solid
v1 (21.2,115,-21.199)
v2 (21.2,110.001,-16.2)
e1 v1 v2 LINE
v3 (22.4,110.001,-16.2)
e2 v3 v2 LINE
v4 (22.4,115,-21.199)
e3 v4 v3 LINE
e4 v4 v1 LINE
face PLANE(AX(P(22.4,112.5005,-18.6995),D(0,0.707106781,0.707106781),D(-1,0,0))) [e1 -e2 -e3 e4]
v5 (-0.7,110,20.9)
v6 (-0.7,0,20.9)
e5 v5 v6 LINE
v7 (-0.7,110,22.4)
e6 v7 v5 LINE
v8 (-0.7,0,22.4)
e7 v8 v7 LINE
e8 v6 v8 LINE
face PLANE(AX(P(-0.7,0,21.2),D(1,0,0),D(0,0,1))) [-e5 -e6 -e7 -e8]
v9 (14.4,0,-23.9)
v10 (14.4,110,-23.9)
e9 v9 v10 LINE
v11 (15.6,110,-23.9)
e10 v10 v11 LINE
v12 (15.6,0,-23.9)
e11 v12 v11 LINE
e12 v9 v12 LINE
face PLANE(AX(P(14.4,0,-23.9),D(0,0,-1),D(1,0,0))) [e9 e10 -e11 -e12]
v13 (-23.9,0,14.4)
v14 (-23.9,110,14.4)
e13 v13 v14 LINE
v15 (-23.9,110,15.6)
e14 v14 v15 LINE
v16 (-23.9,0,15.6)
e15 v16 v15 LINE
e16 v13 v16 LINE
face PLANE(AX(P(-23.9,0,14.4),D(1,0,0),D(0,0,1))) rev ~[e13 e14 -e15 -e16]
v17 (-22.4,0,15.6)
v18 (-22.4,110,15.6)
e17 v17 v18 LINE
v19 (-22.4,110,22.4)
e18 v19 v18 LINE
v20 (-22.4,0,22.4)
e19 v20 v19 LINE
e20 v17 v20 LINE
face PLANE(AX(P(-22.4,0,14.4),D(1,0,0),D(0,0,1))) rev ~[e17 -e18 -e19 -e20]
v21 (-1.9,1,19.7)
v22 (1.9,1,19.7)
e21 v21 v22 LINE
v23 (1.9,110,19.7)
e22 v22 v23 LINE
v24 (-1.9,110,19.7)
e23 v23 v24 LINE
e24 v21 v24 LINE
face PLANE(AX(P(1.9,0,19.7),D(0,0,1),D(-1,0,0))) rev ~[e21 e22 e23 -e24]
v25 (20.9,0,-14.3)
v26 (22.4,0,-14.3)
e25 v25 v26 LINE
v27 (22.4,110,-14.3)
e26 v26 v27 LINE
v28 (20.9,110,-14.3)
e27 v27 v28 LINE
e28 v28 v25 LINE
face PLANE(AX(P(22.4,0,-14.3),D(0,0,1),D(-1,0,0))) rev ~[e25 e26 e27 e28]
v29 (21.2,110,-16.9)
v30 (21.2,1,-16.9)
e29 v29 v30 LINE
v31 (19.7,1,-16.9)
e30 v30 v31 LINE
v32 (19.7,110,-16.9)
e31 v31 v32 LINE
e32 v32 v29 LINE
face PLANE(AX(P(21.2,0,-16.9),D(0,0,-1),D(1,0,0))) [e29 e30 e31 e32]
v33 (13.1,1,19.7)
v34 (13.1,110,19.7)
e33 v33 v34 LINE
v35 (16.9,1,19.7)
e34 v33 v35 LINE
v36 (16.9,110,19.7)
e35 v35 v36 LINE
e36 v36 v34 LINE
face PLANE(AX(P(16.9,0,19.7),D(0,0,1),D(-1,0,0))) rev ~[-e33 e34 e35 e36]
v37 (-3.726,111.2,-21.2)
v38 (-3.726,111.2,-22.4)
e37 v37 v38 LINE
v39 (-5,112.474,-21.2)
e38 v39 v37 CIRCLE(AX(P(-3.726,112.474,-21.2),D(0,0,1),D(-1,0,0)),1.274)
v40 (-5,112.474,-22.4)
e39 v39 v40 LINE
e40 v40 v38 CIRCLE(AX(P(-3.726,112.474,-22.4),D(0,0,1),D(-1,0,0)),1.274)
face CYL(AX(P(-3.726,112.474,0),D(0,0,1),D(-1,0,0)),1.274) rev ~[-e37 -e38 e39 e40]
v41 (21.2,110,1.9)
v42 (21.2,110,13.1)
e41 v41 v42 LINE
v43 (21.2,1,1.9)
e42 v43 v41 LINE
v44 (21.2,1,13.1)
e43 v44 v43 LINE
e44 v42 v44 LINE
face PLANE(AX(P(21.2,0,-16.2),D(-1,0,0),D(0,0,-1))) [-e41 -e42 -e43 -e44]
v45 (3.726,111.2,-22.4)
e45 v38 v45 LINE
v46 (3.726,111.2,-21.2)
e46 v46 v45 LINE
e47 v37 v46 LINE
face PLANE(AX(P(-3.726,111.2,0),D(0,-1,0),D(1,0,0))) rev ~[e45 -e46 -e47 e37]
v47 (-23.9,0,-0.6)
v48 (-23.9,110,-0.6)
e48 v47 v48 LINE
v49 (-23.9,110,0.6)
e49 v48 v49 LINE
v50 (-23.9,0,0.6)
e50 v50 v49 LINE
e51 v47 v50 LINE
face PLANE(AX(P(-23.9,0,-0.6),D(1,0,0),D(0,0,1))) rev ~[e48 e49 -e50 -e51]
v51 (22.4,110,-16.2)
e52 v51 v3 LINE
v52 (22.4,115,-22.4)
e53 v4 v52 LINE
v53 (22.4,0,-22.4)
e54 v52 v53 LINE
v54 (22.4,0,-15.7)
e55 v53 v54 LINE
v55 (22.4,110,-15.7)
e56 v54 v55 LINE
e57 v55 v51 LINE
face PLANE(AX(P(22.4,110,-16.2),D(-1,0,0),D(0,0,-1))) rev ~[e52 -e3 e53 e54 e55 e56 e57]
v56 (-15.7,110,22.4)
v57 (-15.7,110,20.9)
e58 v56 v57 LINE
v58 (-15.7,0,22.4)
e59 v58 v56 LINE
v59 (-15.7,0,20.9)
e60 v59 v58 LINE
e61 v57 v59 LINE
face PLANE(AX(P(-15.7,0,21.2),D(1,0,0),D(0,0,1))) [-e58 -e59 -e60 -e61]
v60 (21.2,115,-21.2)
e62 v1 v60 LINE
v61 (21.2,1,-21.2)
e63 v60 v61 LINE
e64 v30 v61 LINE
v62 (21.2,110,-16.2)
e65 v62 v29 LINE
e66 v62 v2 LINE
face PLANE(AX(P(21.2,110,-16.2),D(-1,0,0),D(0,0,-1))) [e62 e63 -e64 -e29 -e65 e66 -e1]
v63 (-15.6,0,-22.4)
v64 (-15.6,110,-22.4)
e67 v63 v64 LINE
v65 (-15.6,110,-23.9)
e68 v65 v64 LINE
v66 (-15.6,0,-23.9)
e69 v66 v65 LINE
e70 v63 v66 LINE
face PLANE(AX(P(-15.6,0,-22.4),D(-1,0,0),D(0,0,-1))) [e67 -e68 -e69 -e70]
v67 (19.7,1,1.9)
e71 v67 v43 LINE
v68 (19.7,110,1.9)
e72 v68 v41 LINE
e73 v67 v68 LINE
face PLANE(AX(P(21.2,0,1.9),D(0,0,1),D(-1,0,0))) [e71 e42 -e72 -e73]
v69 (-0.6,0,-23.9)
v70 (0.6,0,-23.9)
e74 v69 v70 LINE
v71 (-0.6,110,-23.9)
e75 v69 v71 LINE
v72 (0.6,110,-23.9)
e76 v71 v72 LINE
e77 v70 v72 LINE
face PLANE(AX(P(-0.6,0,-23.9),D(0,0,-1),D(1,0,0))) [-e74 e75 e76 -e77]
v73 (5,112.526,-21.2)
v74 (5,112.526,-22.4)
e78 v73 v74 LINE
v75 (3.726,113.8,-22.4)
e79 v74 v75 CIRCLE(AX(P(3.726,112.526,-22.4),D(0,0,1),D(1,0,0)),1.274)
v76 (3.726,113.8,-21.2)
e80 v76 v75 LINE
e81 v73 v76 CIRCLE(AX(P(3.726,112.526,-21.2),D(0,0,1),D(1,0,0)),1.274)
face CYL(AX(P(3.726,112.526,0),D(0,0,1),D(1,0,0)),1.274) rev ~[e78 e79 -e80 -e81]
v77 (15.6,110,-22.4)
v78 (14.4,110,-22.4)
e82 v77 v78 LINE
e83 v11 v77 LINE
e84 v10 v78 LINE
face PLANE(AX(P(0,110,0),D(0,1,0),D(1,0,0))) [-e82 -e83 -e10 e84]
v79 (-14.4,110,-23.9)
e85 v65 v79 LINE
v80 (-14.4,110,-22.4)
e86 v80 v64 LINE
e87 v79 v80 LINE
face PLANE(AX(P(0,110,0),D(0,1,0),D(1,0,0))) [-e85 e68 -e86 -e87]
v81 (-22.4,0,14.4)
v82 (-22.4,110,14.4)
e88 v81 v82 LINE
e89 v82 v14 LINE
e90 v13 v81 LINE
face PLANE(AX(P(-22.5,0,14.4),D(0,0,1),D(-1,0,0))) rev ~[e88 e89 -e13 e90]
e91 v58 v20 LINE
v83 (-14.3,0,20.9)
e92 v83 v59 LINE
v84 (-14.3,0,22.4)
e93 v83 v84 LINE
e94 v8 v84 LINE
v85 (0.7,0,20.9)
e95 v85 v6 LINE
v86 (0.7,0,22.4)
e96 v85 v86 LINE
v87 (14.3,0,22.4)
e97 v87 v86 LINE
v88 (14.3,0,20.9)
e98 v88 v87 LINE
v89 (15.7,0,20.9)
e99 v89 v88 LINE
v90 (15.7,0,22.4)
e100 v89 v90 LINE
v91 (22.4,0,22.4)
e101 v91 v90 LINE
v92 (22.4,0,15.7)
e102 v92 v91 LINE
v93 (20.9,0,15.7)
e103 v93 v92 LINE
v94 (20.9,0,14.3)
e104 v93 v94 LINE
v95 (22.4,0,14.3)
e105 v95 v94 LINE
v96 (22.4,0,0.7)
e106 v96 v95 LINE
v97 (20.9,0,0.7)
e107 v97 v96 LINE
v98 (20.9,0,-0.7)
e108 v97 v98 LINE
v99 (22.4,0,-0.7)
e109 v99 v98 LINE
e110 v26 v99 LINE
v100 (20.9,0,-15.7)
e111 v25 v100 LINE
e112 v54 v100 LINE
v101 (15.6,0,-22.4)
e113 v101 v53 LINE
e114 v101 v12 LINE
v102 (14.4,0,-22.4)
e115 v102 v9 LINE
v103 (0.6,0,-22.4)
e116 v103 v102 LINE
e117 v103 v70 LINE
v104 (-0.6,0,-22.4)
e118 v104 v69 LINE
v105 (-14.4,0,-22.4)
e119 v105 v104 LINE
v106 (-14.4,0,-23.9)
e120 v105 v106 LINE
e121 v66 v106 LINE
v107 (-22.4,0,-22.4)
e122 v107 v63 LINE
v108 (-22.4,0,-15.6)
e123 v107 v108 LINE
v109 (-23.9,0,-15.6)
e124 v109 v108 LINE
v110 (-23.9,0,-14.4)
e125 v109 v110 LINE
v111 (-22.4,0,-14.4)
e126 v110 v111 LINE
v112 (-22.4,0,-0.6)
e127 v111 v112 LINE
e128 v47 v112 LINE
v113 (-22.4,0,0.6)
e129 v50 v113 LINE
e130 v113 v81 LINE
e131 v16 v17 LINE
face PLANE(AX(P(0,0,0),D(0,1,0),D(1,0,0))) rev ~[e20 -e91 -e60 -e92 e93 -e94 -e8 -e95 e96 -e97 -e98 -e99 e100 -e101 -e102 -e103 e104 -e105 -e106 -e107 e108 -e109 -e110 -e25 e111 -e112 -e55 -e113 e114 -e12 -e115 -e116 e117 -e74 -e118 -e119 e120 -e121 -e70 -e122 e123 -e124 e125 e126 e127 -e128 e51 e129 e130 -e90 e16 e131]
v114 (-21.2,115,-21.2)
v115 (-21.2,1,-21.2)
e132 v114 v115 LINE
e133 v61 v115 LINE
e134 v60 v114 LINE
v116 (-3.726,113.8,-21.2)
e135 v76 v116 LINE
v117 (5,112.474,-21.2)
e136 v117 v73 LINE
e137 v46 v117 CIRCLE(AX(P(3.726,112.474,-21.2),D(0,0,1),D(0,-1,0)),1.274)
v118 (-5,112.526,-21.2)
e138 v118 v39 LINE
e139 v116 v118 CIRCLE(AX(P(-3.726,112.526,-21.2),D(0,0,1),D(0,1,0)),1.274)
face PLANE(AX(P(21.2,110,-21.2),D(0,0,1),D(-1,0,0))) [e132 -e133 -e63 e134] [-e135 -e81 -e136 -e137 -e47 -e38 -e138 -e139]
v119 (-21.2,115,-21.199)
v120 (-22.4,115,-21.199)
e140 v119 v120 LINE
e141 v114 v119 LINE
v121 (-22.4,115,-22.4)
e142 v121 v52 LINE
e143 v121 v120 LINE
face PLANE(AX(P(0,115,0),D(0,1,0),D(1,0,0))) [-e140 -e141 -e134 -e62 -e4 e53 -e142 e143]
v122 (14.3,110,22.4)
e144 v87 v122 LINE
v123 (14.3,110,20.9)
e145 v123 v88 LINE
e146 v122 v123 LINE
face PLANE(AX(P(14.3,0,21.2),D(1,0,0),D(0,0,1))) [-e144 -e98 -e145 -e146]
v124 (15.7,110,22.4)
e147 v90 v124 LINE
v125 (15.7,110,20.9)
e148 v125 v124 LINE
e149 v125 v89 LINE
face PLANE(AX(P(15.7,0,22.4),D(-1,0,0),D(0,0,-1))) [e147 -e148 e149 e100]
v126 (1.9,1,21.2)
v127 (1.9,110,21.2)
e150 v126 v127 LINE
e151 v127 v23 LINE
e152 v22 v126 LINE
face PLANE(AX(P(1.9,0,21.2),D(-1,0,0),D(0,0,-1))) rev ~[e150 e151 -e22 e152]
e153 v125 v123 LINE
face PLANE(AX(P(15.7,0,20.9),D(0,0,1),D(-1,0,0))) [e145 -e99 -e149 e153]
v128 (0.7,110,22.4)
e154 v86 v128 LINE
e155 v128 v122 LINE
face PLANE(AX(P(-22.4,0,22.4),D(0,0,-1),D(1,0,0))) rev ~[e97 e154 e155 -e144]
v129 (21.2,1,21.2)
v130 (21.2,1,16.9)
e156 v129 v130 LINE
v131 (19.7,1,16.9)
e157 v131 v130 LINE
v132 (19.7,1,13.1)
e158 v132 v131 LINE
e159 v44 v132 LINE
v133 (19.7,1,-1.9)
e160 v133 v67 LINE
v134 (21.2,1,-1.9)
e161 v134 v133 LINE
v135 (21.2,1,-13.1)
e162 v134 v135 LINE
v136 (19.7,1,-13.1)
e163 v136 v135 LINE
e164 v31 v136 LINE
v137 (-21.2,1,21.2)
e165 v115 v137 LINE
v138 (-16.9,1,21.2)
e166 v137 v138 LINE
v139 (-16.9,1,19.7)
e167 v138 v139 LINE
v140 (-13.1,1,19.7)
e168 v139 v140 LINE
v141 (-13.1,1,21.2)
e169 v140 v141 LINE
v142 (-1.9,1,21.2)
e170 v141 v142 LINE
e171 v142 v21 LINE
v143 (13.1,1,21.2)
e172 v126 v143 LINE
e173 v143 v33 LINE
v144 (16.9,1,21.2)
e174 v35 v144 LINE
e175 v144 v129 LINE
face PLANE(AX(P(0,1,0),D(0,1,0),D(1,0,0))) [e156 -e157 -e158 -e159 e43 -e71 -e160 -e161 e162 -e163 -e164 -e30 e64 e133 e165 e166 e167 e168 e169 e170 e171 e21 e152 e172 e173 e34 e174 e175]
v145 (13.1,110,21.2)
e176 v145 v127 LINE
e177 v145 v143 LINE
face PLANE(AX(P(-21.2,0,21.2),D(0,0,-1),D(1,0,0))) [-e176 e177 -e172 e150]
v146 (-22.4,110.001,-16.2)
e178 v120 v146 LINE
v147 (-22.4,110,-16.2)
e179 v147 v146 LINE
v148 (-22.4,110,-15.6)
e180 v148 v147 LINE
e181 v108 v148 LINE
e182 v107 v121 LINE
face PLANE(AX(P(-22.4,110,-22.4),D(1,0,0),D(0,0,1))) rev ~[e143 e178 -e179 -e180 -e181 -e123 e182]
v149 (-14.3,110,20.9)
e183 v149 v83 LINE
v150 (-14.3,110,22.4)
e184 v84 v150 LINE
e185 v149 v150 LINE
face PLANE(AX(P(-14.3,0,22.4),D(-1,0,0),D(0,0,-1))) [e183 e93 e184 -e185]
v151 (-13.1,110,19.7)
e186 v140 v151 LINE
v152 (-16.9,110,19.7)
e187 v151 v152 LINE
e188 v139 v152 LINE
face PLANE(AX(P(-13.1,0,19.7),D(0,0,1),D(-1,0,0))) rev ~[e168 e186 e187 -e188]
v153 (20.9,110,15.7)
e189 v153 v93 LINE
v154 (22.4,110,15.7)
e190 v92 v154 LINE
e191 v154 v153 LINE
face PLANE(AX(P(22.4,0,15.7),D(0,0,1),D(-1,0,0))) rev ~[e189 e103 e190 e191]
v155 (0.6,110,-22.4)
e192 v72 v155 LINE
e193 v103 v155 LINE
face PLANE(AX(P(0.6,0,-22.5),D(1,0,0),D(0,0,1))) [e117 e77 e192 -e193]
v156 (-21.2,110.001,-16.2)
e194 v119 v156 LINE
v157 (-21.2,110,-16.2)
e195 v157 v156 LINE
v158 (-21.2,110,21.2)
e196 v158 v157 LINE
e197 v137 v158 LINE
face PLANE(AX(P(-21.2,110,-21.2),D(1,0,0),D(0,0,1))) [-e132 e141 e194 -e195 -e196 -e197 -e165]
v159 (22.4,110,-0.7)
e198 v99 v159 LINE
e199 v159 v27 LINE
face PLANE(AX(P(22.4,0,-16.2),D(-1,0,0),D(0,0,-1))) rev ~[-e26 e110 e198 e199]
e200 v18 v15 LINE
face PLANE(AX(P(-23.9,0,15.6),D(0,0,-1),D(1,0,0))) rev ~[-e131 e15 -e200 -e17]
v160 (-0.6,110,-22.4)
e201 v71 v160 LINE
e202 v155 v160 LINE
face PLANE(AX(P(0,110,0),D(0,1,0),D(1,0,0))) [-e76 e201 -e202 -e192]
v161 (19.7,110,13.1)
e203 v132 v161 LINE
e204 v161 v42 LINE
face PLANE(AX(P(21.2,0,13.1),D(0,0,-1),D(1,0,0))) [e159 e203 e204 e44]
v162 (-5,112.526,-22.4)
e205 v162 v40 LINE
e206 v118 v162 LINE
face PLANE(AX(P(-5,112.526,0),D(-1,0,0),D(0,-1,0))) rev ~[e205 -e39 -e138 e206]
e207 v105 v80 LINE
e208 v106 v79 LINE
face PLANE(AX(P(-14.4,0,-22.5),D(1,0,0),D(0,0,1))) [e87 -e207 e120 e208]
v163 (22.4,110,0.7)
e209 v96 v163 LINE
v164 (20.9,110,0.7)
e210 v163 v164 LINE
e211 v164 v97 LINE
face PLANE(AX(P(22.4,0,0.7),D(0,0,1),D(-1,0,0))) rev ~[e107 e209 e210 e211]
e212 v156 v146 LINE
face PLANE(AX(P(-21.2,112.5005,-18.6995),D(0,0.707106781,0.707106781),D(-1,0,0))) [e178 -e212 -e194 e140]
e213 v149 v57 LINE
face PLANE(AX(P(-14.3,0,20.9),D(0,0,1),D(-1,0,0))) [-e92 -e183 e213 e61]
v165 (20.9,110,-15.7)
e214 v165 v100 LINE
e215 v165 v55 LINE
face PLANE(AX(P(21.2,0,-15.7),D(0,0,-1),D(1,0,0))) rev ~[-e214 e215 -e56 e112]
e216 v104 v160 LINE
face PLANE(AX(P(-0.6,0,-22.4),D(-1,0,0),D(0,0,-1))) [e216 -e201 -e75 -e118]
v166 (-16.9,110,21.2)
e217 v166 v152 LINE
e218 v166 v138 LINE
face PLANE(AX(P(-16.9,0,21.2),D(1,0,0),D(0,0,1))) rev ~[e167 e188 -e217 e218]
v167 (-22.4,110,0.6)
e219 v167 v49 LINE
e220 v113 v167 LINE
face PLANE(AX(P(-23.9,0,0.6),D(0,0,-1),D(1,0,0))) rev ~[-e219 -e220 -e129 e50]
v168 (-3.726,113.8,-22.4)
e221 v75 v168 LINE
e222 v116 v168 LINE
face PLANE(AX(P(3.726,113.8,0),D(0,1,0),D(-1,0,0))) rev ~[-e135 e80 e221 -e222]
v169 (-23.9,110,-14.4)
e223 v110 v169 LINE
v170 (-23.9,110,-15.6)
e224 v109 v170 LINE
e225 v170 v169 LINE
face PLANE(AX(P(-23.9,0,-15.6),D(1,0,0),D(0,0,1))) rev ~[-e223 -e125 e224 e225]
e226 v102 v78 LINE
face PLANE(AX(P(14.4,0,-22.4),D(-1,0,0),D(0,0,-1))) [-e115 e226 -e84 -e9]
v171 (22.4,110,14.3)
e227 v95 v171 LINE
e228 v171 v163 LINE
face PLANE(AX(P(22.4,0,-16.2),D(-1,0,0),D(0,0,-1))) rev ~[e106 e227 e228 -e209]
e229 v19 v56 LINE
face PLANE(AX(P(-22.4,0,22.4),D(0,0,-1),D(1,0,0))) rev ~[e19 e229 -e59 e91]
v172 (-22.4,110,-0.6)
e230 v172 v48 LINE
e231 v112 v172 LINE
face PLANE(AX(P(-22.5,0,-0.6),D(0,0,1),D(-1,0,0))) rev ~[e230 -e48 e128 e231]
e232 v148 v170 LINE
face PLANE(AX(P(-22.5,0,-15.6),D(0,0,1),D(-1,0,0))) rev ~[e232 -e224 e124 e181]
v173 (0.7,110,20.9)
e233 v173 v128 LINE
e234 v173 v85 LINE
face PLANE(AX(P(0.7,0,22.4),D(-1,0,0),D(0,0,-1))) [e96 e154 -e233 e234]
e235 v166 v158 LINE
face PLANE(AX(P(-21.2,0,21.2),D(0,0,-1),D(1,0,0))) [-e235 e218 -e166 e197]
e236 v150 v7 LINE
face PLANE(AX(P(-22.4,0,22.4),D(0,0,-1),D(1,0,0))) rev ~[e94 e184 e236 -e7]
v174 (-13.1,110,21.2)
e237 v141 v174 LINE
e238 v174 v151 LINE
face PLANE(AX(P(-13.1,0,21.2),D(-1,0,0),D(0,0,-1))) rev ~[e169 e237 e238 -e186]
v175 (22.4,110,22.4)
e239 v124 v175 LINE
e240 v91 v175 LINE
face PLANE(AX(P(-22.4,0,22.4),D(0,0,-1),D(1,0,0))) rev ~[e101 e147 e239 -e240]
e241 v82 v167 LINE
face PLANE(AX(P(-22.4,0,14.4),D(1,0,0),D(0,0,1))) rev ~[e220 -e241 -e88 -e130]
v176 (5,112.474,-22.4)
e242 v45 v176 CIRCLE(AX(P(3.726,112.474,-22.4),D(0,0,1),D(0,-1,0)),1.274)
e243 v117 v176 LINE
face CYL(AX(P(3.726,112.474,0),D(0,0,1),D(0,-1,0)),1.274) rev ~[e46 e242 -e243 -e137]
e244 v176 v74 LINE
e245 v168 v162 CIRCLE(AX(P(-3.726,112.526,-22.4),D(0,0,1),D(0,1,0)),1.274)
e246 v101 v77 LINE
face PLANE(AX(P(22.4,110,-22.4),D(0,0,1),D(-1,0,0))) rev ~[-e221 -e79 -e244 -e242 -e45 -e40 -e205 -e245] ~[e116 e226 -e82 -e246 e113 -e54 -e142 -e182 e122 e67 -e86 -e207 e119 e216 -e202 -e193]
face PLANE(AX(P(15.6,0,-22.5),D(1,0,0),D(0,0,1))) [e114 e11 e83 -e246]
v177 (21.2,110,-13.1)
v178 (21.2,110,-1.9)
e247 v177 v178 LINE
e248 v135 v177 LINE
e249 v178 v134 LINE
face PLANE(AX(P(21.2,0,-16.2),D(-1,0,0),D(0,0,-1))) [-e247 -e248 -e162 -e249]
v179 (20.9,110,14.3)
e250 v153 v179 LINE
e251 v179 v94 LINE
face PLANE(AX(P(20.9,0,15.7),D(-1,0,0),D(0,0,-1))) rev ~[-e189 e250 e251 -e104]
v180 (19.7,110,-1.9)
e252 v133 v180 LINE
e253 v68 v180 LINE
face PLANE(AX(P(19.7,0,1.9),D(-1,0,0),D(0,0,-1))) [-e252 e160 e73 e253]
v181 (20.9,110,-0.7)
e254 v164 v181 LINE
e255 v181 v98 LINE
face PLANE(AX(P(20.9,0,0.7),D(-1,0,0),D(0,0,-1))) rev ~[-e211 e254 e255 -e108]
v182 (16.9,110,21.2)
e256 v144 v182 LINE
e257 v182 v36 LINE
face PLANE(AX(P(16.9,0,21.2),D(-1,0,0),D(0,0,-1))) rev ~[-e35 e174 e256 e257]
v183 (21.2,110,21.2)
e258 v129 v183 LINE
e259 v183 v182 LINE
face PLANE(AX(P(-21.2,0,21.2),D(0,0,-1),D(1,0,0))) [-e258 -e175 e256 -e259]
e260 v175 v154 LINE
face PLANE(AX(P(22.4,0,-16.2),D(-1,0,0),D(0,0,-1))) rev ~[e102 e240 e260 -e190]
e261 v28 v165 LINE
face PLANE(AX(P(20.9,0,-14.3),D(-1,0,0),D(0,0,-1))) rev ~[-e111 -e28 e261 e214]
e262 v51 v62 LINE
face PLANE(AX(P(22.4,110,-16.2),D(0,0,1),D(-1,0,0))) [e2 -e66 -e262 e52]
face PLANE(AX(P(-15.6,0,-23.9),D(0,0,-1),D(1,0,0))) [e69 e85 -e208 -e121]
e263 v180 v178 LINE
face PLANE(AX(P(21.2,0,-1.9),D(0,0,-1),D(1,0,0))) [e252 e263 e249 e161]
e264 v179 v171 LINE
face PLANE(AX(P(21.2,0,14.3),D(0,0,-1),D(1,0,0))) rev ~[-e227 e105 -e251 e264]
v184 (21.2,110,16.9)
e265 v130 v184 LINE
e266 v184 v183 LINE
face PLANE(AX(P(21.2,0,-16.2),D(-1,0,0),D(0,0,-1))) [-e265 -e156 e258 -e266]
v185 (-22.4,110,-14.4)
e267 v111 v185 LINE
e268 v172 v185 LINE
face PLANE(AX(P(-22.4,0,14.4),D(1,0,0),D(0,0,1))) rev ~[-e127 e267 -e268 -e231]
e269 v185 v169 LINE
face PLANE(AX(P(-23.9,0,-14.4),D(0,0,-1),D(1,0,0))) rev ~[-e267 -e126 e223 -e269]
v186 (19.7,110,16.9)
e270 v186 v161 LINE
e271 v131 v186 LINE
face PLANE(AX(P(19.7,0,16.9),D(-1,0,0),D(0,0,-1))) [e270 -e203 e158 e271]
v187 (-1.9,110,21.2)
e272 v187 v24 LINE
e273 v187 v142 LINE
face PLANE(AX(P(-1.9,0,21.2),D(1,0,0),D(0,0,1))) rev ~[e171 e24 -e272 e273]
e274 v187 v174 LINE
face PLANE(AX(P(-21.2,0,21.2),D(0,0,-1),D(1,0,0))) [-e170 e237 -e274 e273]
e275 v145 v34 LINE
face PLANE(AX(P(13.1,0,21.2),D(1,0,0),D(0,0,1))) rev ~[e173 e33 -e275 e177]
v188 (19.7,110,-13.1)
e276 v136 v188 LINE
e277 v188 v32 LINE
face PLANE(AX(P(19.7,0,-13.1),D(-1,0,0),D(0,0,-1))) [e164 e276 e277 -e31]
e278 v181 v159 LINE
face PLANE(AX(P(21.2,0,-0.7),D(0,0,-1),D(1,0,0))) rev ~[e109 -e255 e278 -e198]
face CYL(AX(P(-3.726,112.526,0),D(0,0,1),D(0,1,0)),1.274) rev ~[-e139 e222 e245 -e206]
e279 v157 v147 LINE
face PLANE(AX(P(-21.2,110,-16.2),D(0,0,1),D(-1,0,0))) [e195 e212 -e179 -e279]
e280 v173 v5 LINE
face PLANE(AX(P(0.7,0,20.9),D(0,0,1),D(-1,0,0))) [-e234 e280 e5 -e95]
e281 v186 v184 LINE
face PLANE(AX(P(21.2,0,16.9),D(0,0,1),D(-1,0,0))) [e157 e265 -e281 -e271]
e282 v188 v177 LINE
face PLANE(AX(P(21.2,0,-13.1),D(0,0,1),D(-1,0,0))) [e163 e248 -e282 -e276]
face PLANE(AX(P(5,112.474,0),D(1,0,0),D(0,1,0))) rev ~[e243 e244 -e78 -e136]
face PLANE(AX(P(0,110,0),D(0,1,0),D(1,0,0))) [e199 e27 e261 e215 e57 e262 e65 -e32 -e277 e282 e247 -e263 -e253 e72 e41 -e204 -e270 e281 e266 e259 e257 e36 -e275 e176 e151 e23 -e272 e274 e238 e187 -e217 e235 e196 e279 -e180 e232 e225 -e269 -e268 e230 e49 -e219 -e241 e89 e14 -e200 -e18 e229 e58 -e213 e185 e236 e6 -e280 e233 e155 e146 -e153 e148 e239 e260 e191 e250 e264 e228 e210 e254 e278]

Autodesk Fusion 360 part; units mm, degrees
sketch "Body" plane through (0, 0, 0) normal (0, 1, 0) x (1, 0, 0)
  line L0 (-22.5, -22.5) -> (22.5, -22.5)
  line L1 (22.5, -22.5) -> (22.5, 22.5)
  line L2 (22.5, 22.5) -> (-22.5, 22.5)
  line L3 (-22.5, 22.5) -> (-22.5, -22.5)
  line L4 (-22.5, -22.5) -> (22.5, 22.5) construction
  line L5 (22.5, -22.5) -> (-22.5, 22.5) construction
  line L6 (22.4, 22.4) -> (-22.4, 22.4)
  line L7 (-22.4, 22.4) -> (-22.4, -22.4)
  line L8 (-22.4, -22.4) -> (22.4, -22.4)
  line L9 (22.4, -22.4) -> (22.4, 22.4)
  line L10 (-21.2, 21.2) -> (-21.2, -21.2)
  line L11 (-21.2, -21.2) -> (21.2, -21.2)
  line L12 (21.2, -21.2) -> (21.2, 21.2)
  line L13 (21.2, 21.2) -> (-21.2, 21.2)
  line L14 (-22.5, -22.5) -> (-15.7, -22.5) construction
  line L15 (-15.7, -22.5) -> (-15.7, -22.4) construction
  line L16 (-15.7, -22.4) -> (-22.5, -22.4) construction
  line L17 (-22.5, -22.4) -> (-22.5, -22.5) construction
  line L18 (-22.5, -22.5) -> (-22.4, -22.5) construction
  line L19 (-22.4, -22.5) -> (-22.4, -14.4) construction
  line L20 (-22.4, -14.4) -> (-22.5, -14.4) construction
  line L21 (-22.5, -14.4) -> (-22.5, -22.5) construction
  line L22 (-22.4, -14.4) -> (-23.9, -14.4)
  line L23 (-23.9, -14.4) -> (-23.9, -15.6)
  line L24 (-23.9, -15.6) -> (-22.4, -15.6)
  line L25 (-22.4, -15.6) -> (-22.4, -14.4)
  line L26 (-15.7, -22.4) -> (-14.3, -22.4)
  line L27 (-14.3, -22.4) -> (-14.3, -20.9)
  line L28 (-14.3, -20.9) -> (-15.7, -20.9)
  line L29 (-15.7, -20.9) -> (-15.7, -22.4)
  line L30 (-13.1, -22.4) -> (-13.1, -19.7)
  line L31 (-13.1, -19.7) -> (-16.9, -19.7)
  line L32 (-16.9, -19.7) -> (-16.9, -22.4)
  line L33 (0, -22.5) -> (0, -28) construction
  line L34 (-22.5, 0) -> (-38.981, 0) construction
  line L35 (-22.5, 22.5) -> (-14.4, 22.5) construction
  line L36 (-14.4, 22.5) -> (-14.4, 22.4) construction
  line L37 (-14.4, 22.4) -> (-22.5, 22.4) construction
  line L38 (-22.5, 22.4) -> (-22.5, 22.5) construction
  line L39 (22.5, -22.5) -> (22.4, -22.5) construction
  line L40 (22.4, -22.5) -> (22.4, -15.7) construction
  line L41 (22.4, -15.7) -> (22.5, -15.7) construction
  line L42 (22.5, -15.7) -> (22.5, -22.5) construction
  line L43 (-14.4, 22.4) -> (-15.6, 22.4)
  line L44 (-15.6, 22.4) -> (-15.6, 23.9)
  line L45 (-15.6, 23.9) -> (-14.4, 23.9)
  line L46 (-14.4, 23.9) -> (-14.4, 22.4)
  line L47 (22.4, 16.2) -> (-22.4, 16.2)
  line L48 (22.4, -15.7) -> (20.9, -15.7)
  line L49 (20.9, -15.7) -> (20.9, -14.3)
  line L50 (20.9, -14.3) -> (22.4, -14.3)
  line L51 (22.4, -14.3) -> (22.4, -15.7)
  line L52 (22.4, -16.9) -> (19.7, -16.9)
  line L53 (19.7, -16.9) -> (19.7, -13.1)
  line L54 (19.7, -13.1) -> (22.4, -13.1)
  dimension "d39" = 45
  dimension "d40" = 45
  dimension "d43" = 6.8
  dimension "d44" = 0.1
  dimension "d45" = 0.1
  dimension "d46" = 8.1
  dimension "d47" = 1.5
  dimension "d48" = 1.2
  dimension "d49" = 1.4
  dimension "d50" = 1.5
  dimension "d51" = 1.2
  dimension "d66" = 8.1
  dimension "d67" = 0.1
  dimension "d70" = 0.1
  dimension "d71" = 6.8
  dimension "d81" = 1.2
  dimension "d82" = 1.5
  dimension "d196" = 1.5
  dimension "d197" = 1.4
extrude "Extrude1" add sketch "Body" along normal blind 110 contours L7 L8 L10 L11 L25 L32 L47 | L6 L7 L9 L10 L12 L13 L43 L47 | L8 L11 L29 L32 | L8 L11 L26 L27 L29 | L9 L12 L47 L54 | L8 L11 L27 L30 | L9 L12 L50 L54 | L8 L9 L11 L12 L30 L52 | L9 L12 L48 L50 L51 | L9 L12 L48 L52 makes body 1
ref_plane "WorkPlane3" through (0, 55, 0) normal (0, 1, 0) x (0, 0, 1)
sketch "Floor" plane through (0, 55, 0) normal (0, 1, 0) x (1, 0, 0)
  line L0 (-22.5, -22.5) -> (22.5, -22.5)
  line L1 (22.5, -22.5) -> (22.5, 22.5)
  line L2 (22.5, 22.5) -> (-22.5, 22.5)
  line L3 (-22.5, 22.5) -> (-22.5, -22.5)
  line L4 (-22.5, -22.5) -> (22.5, 22.5) construction
  line L5 (22.5, -22.5) -> (-22.5, 22.5) construction
  line L6 (-22.4, 22.4) -> (-22.4, -22.4)
  line L7 (-22.4, -22.4) -> (22.4, -22.4)
  line L8 (22.4, -22.4) -> (22.4, 22.4)
  line L9 (22.4, 22.4) -> (-22.4, 22.4)
  line L10 (-21.3, 21.3) -> (-21.3, -21.3)
  line L11 (-21.3, -21.3) -> (21.3, -21.3)
  line L12 (21.3, -21.3) -> (21.3, 21.3)
  line L13 (21.3, 21.3) -> (-21.3, 21.3)
  line L14 (0, 21.3) -> (-20.6, 21.3) construction
  line L15 (-20.6, 21.3) -> (-20.6, 21.1) construction
  line L16 (-20.6, 21.1) -> (0, 21.1) construction
  line L17 (0, 21.1) -> (0, 21.3) construction
  line L18 (0, 21.3) -> (19.1, 21.3) construction
  line L19 (19.1, 21.3) -> (19.1, 21.1) construction
  line L20 (19.1, 21.1) -> (0, 21.1) construction
  line L21 (0, 21.1) -> (0, 21.3) construction
  line L22 (-20.6, 21.1) -> (-21.7, 21.1)
  line L23 (-21.7, 21.1) -> (-21.7, 20.1)
  line L24 (-21.7, 20.1) -> (-20.6, 20.1)
  line L25 (-20.6, 20.1) -> (-20.6, 21.1)
  line L26 (-21.7, 20.1) -> (-20.6, 21.1)
  line L27 (19.1, 21.1) -> (20.2, 21.1)
  line L28 (20.2, 21.1) -> (20.2, 20.1)
  line L29 (20.2, 20.1) -> (19.1, 20.1)
  line L30 (19.1, 20.1) -> (19.1, 21.1)
  line L31 (19.1, 21.1) -> (20.2, 20.1)
  dimension "d219" = 45
  dimension "d220" = 45
  dimension "d243" = 20.6
  dimension "d244" = 0.2
  dimension "d245" = 19.1
  dimension "d246" = 0.2
  dimension "d247" = 1.1
  dimension "d248" = 1
  dimension "d249" = 1.1
  dimension "d250" = 1
extrude "Extrude19" add sketch "Floor" along normal blind 1 from surface at -55 contours L10 L11 L12 L13 L22 L24 L25 | L10 L22 L26 | L10 L24 L25 L26 | L29 L30 L31 | L27 L28 L31 bodies 1
extrude "Extrude3" add sketch "Body" along normal blind 110 contours L8 L11 L29 L32 | L11 L27 L28 L29 L30 L31 L32 | L8 L11 L27 L30 bodies 1
extrude "Extrude4" cut sketch "Body" along normal blind 110 contours L8 L11 L26 L27 L29 | L11 L27 L28 L29 bodies 1
extrude "Extrude8" add sketch "Body" along normal blind 110 contours L2 L6 L43 L44 L46 | L2 L44 L45 L46 bodies 1
extrude "Extrude5" add sketch "Body" along normal blind 110 contours L3 L22 L23 L24 | L3 L7 L22 L24 L25 bodies 1
extrude "Extrude6" add sketch "Body" along normal blind 110 contours L9 L12 L50 L54 | L12 L48 L49 L50 L52 L53 L54 | L9 L12 L48 L52 bodies 1
extrude "Extrude7" cut sketch "Body" along normal blind 110 contours L9 L12 L48 L50 L51 | L12 L48 L49 L50 bodies 1
pattern_linear "R-Pattern1" count 3 spacing 15 along (1, 0, 0) of "Extrude3", "Extrude4", "Extrude8"
pattern_linear "R-Pattern2" count 3 spacing 15 along (0, 0, -1) of "Extrude5", "Extrude7", "Extrude6"
extrude "Extrude15" add sketch "Body" along normal blind 5 from surface at 110 contours L6 L7 L9 L10 L12 L13 L43 L47 bodies 1
chamfer "Chamfer1" distance 5 angle 45 2 edges at (21.8, 115, -16.2) (-21.8, 115, -16.2) on bodies 1
sketch "Pull Tab Hole" plane through (0, 0, 0) normal (0, 0, 1) x (1, 0, 0)
  line L0 (0, 0) -> (0, 110) construction
  line L1 (0, 110) -> (0, 112.5) construction
  line L2 (3.726, 113.8) -> (-3.726, 113.8)
  line L3 (-5, 112.526) -> (-5, 112.474)
  line L4 (-3.726, 111.2) -> (3.726, 111.2)
  line L5 (5, 112.474) -> (5, 112.526)
  line L6 (5, 113.8) -> (-5, 111.2) construction
  line L7 (-5, 113.8) -> (5, 111.2) construction
  arc A0 (-5, 112.474) -> (-3.726, 111.2) centre (-3.726, 112.474) ccw
  arc A1 (-3.726, 113.8) -> (-5, 112.526) centre (-3.726, 112.526) ccw
  arc A2 (5, 112.526) -> (3.726, 113.8) centre (3.726, 112.526) ccw
  arc A3 (3.726, 111.2) -> (5, 112.474) centre (3.726, 112.474) ccw
  point P0 (0, 112.5)
  dimension "d180" = 110
  dimension "d181" = 2.5
  dimension "d182" = 10
  dimension "d183" = 2.6
  dimension "d184" = 1.274
extrude "Extrude16" cut sketch "Pull Tab Hole" against normal blind 45 bodies 1
copy_body "Body->Comp3" bodies 1 removing the originals makes body 2 in component "Body"
component "Body" placed x (1, 0, 0) y (0, 1, 0) z (0, 0, 1) at (0, 0, 0)
equation "GRID_SPACING = 15 mm"
equation "WALL_THICK = 1.2 mm"
equation "WALL_BUMP = 1.5 mm"
equation "CLEAR = 0.1 mm"
equation "OVERALL_HT = 110 mm"
equation "FLOOR_THICK = 1 mm"
equation "d31 = OVERALL_HT"
equation "d35 = OVERALL_HT"
equation "d37 = OVERALL_HT"
equation "d39 = LENGTH_MODULE_NUMBER * GRID_SPACING"
equation "d40 = WIDTH_MODULE_NUMBER * GRID_SPACING"
equation "d43 = GRID_SPACING / 2 - WALL_THICK / 2 - CLEAR"
equation "d44 = CLEAR"
equation "d45 = CLEAR"
equation "d46 = GRID_SPACING / 2 + WALL_THICK / 2"
equation "d47 = WALL_BUMP"
equation "d48 = WALL_THICK"
equation "d49 = WALL_THICK + CLEAR * 2"
equation "d50 = WALL_BUMP"
equation "d51 = WALL_THICK"
equation "d54 = GRID_SPACING"
equation "d56 = OVERALL_HT"
equation "d60 = GRID_SPACING"
equation "d66 = GRID_SPACING / 2 + WALL_THICK / 2"
equation "d67 = CLEAR"
equation "d70 = CLEAR"
equation "d71 = GRID_SPACING / 2 - WALL_THICK / 2 - CLEAR"
equation "d75 = OVERALL_HT"
equation "d77 = OVERALL_HT"
equation "d79 = OVERALL_HT"
equation "d81 = WALL_THICK"
equation "d82 = WALL_BUMP"
equation "LID_THICK = 3 mm"
equation "LID_TOP_OFFSET = 1 mm"
equation "LID_LOCK_LENGTH = 8 mm"
equation "LID_PULL_WIDTH = 8 mm"
equation "LID_PULL_HT = 1 mm"
equation "LID_PULL_FRONT_OFFSET = 3 mm"
equation "PULL_TAB_WIDTH = PULL_TAB_HT + WALL_THICK"
equation "d173 = OVERALL_HT"
equation "d174 = PULL_TAB_HT"
equation "PULL_TAB_HT = 5 mm"
equation "d179 = PULL_TAB_HT"
equation "d180 = OVERALL_HT"
equation "d181 = PULL_TAB_HT / 2"
equation "d182 = PULL_HOLE_LENGTH"
equation "d183 = PULL_TAB_HT - WALL_THICK * 2"
equation "d184 = ( PULL_TAB_HT - WALL_THICK * 2 ) * 0.49"
equation "PULL_HOLE_LENGTH = 10 mm"
equation "d196 = WALL_BUMP"
equation "d197 = WALL_THICK + CLEAR * 2"
equation "d200 = OVERALL_HT / 2"
equation "d219 = LENGTH_MODULE_NUMBER * GRID_SPACING"
equation "d220 = WIDTH_MODULE_NUMBER * GRID_SPACING"
equation "d223 = FLOOR_THICK"
equation "LID_CLEAR = 0.1 mm"
equation "CHAMFER_LENGTH = 0.5 mm"
equation "CHAMFER_WIDTH = 1 mm"
equation "d243 = Linear Dimension-6"
equation "d244 = LID_CLEAR + CLEAR"
equation "d245 = Linear Dimension-8"
equation "d246 = LID_CLEAR + CLEAR"
equation "d247 = WALL_THICK / 2 + CHAMFER_LENGTH"
equation "d248 = CHAMFER_WIDTH"
equation "d249 = WALL_THICK / 2 + CHAMFER_LENGTH"
equation "d250 = CHAMFER_WIDTH"
equation "d253 = -OVERALL_HT / 2"
equation "LID_LOCK_OFFSET = 0.1 mm"
